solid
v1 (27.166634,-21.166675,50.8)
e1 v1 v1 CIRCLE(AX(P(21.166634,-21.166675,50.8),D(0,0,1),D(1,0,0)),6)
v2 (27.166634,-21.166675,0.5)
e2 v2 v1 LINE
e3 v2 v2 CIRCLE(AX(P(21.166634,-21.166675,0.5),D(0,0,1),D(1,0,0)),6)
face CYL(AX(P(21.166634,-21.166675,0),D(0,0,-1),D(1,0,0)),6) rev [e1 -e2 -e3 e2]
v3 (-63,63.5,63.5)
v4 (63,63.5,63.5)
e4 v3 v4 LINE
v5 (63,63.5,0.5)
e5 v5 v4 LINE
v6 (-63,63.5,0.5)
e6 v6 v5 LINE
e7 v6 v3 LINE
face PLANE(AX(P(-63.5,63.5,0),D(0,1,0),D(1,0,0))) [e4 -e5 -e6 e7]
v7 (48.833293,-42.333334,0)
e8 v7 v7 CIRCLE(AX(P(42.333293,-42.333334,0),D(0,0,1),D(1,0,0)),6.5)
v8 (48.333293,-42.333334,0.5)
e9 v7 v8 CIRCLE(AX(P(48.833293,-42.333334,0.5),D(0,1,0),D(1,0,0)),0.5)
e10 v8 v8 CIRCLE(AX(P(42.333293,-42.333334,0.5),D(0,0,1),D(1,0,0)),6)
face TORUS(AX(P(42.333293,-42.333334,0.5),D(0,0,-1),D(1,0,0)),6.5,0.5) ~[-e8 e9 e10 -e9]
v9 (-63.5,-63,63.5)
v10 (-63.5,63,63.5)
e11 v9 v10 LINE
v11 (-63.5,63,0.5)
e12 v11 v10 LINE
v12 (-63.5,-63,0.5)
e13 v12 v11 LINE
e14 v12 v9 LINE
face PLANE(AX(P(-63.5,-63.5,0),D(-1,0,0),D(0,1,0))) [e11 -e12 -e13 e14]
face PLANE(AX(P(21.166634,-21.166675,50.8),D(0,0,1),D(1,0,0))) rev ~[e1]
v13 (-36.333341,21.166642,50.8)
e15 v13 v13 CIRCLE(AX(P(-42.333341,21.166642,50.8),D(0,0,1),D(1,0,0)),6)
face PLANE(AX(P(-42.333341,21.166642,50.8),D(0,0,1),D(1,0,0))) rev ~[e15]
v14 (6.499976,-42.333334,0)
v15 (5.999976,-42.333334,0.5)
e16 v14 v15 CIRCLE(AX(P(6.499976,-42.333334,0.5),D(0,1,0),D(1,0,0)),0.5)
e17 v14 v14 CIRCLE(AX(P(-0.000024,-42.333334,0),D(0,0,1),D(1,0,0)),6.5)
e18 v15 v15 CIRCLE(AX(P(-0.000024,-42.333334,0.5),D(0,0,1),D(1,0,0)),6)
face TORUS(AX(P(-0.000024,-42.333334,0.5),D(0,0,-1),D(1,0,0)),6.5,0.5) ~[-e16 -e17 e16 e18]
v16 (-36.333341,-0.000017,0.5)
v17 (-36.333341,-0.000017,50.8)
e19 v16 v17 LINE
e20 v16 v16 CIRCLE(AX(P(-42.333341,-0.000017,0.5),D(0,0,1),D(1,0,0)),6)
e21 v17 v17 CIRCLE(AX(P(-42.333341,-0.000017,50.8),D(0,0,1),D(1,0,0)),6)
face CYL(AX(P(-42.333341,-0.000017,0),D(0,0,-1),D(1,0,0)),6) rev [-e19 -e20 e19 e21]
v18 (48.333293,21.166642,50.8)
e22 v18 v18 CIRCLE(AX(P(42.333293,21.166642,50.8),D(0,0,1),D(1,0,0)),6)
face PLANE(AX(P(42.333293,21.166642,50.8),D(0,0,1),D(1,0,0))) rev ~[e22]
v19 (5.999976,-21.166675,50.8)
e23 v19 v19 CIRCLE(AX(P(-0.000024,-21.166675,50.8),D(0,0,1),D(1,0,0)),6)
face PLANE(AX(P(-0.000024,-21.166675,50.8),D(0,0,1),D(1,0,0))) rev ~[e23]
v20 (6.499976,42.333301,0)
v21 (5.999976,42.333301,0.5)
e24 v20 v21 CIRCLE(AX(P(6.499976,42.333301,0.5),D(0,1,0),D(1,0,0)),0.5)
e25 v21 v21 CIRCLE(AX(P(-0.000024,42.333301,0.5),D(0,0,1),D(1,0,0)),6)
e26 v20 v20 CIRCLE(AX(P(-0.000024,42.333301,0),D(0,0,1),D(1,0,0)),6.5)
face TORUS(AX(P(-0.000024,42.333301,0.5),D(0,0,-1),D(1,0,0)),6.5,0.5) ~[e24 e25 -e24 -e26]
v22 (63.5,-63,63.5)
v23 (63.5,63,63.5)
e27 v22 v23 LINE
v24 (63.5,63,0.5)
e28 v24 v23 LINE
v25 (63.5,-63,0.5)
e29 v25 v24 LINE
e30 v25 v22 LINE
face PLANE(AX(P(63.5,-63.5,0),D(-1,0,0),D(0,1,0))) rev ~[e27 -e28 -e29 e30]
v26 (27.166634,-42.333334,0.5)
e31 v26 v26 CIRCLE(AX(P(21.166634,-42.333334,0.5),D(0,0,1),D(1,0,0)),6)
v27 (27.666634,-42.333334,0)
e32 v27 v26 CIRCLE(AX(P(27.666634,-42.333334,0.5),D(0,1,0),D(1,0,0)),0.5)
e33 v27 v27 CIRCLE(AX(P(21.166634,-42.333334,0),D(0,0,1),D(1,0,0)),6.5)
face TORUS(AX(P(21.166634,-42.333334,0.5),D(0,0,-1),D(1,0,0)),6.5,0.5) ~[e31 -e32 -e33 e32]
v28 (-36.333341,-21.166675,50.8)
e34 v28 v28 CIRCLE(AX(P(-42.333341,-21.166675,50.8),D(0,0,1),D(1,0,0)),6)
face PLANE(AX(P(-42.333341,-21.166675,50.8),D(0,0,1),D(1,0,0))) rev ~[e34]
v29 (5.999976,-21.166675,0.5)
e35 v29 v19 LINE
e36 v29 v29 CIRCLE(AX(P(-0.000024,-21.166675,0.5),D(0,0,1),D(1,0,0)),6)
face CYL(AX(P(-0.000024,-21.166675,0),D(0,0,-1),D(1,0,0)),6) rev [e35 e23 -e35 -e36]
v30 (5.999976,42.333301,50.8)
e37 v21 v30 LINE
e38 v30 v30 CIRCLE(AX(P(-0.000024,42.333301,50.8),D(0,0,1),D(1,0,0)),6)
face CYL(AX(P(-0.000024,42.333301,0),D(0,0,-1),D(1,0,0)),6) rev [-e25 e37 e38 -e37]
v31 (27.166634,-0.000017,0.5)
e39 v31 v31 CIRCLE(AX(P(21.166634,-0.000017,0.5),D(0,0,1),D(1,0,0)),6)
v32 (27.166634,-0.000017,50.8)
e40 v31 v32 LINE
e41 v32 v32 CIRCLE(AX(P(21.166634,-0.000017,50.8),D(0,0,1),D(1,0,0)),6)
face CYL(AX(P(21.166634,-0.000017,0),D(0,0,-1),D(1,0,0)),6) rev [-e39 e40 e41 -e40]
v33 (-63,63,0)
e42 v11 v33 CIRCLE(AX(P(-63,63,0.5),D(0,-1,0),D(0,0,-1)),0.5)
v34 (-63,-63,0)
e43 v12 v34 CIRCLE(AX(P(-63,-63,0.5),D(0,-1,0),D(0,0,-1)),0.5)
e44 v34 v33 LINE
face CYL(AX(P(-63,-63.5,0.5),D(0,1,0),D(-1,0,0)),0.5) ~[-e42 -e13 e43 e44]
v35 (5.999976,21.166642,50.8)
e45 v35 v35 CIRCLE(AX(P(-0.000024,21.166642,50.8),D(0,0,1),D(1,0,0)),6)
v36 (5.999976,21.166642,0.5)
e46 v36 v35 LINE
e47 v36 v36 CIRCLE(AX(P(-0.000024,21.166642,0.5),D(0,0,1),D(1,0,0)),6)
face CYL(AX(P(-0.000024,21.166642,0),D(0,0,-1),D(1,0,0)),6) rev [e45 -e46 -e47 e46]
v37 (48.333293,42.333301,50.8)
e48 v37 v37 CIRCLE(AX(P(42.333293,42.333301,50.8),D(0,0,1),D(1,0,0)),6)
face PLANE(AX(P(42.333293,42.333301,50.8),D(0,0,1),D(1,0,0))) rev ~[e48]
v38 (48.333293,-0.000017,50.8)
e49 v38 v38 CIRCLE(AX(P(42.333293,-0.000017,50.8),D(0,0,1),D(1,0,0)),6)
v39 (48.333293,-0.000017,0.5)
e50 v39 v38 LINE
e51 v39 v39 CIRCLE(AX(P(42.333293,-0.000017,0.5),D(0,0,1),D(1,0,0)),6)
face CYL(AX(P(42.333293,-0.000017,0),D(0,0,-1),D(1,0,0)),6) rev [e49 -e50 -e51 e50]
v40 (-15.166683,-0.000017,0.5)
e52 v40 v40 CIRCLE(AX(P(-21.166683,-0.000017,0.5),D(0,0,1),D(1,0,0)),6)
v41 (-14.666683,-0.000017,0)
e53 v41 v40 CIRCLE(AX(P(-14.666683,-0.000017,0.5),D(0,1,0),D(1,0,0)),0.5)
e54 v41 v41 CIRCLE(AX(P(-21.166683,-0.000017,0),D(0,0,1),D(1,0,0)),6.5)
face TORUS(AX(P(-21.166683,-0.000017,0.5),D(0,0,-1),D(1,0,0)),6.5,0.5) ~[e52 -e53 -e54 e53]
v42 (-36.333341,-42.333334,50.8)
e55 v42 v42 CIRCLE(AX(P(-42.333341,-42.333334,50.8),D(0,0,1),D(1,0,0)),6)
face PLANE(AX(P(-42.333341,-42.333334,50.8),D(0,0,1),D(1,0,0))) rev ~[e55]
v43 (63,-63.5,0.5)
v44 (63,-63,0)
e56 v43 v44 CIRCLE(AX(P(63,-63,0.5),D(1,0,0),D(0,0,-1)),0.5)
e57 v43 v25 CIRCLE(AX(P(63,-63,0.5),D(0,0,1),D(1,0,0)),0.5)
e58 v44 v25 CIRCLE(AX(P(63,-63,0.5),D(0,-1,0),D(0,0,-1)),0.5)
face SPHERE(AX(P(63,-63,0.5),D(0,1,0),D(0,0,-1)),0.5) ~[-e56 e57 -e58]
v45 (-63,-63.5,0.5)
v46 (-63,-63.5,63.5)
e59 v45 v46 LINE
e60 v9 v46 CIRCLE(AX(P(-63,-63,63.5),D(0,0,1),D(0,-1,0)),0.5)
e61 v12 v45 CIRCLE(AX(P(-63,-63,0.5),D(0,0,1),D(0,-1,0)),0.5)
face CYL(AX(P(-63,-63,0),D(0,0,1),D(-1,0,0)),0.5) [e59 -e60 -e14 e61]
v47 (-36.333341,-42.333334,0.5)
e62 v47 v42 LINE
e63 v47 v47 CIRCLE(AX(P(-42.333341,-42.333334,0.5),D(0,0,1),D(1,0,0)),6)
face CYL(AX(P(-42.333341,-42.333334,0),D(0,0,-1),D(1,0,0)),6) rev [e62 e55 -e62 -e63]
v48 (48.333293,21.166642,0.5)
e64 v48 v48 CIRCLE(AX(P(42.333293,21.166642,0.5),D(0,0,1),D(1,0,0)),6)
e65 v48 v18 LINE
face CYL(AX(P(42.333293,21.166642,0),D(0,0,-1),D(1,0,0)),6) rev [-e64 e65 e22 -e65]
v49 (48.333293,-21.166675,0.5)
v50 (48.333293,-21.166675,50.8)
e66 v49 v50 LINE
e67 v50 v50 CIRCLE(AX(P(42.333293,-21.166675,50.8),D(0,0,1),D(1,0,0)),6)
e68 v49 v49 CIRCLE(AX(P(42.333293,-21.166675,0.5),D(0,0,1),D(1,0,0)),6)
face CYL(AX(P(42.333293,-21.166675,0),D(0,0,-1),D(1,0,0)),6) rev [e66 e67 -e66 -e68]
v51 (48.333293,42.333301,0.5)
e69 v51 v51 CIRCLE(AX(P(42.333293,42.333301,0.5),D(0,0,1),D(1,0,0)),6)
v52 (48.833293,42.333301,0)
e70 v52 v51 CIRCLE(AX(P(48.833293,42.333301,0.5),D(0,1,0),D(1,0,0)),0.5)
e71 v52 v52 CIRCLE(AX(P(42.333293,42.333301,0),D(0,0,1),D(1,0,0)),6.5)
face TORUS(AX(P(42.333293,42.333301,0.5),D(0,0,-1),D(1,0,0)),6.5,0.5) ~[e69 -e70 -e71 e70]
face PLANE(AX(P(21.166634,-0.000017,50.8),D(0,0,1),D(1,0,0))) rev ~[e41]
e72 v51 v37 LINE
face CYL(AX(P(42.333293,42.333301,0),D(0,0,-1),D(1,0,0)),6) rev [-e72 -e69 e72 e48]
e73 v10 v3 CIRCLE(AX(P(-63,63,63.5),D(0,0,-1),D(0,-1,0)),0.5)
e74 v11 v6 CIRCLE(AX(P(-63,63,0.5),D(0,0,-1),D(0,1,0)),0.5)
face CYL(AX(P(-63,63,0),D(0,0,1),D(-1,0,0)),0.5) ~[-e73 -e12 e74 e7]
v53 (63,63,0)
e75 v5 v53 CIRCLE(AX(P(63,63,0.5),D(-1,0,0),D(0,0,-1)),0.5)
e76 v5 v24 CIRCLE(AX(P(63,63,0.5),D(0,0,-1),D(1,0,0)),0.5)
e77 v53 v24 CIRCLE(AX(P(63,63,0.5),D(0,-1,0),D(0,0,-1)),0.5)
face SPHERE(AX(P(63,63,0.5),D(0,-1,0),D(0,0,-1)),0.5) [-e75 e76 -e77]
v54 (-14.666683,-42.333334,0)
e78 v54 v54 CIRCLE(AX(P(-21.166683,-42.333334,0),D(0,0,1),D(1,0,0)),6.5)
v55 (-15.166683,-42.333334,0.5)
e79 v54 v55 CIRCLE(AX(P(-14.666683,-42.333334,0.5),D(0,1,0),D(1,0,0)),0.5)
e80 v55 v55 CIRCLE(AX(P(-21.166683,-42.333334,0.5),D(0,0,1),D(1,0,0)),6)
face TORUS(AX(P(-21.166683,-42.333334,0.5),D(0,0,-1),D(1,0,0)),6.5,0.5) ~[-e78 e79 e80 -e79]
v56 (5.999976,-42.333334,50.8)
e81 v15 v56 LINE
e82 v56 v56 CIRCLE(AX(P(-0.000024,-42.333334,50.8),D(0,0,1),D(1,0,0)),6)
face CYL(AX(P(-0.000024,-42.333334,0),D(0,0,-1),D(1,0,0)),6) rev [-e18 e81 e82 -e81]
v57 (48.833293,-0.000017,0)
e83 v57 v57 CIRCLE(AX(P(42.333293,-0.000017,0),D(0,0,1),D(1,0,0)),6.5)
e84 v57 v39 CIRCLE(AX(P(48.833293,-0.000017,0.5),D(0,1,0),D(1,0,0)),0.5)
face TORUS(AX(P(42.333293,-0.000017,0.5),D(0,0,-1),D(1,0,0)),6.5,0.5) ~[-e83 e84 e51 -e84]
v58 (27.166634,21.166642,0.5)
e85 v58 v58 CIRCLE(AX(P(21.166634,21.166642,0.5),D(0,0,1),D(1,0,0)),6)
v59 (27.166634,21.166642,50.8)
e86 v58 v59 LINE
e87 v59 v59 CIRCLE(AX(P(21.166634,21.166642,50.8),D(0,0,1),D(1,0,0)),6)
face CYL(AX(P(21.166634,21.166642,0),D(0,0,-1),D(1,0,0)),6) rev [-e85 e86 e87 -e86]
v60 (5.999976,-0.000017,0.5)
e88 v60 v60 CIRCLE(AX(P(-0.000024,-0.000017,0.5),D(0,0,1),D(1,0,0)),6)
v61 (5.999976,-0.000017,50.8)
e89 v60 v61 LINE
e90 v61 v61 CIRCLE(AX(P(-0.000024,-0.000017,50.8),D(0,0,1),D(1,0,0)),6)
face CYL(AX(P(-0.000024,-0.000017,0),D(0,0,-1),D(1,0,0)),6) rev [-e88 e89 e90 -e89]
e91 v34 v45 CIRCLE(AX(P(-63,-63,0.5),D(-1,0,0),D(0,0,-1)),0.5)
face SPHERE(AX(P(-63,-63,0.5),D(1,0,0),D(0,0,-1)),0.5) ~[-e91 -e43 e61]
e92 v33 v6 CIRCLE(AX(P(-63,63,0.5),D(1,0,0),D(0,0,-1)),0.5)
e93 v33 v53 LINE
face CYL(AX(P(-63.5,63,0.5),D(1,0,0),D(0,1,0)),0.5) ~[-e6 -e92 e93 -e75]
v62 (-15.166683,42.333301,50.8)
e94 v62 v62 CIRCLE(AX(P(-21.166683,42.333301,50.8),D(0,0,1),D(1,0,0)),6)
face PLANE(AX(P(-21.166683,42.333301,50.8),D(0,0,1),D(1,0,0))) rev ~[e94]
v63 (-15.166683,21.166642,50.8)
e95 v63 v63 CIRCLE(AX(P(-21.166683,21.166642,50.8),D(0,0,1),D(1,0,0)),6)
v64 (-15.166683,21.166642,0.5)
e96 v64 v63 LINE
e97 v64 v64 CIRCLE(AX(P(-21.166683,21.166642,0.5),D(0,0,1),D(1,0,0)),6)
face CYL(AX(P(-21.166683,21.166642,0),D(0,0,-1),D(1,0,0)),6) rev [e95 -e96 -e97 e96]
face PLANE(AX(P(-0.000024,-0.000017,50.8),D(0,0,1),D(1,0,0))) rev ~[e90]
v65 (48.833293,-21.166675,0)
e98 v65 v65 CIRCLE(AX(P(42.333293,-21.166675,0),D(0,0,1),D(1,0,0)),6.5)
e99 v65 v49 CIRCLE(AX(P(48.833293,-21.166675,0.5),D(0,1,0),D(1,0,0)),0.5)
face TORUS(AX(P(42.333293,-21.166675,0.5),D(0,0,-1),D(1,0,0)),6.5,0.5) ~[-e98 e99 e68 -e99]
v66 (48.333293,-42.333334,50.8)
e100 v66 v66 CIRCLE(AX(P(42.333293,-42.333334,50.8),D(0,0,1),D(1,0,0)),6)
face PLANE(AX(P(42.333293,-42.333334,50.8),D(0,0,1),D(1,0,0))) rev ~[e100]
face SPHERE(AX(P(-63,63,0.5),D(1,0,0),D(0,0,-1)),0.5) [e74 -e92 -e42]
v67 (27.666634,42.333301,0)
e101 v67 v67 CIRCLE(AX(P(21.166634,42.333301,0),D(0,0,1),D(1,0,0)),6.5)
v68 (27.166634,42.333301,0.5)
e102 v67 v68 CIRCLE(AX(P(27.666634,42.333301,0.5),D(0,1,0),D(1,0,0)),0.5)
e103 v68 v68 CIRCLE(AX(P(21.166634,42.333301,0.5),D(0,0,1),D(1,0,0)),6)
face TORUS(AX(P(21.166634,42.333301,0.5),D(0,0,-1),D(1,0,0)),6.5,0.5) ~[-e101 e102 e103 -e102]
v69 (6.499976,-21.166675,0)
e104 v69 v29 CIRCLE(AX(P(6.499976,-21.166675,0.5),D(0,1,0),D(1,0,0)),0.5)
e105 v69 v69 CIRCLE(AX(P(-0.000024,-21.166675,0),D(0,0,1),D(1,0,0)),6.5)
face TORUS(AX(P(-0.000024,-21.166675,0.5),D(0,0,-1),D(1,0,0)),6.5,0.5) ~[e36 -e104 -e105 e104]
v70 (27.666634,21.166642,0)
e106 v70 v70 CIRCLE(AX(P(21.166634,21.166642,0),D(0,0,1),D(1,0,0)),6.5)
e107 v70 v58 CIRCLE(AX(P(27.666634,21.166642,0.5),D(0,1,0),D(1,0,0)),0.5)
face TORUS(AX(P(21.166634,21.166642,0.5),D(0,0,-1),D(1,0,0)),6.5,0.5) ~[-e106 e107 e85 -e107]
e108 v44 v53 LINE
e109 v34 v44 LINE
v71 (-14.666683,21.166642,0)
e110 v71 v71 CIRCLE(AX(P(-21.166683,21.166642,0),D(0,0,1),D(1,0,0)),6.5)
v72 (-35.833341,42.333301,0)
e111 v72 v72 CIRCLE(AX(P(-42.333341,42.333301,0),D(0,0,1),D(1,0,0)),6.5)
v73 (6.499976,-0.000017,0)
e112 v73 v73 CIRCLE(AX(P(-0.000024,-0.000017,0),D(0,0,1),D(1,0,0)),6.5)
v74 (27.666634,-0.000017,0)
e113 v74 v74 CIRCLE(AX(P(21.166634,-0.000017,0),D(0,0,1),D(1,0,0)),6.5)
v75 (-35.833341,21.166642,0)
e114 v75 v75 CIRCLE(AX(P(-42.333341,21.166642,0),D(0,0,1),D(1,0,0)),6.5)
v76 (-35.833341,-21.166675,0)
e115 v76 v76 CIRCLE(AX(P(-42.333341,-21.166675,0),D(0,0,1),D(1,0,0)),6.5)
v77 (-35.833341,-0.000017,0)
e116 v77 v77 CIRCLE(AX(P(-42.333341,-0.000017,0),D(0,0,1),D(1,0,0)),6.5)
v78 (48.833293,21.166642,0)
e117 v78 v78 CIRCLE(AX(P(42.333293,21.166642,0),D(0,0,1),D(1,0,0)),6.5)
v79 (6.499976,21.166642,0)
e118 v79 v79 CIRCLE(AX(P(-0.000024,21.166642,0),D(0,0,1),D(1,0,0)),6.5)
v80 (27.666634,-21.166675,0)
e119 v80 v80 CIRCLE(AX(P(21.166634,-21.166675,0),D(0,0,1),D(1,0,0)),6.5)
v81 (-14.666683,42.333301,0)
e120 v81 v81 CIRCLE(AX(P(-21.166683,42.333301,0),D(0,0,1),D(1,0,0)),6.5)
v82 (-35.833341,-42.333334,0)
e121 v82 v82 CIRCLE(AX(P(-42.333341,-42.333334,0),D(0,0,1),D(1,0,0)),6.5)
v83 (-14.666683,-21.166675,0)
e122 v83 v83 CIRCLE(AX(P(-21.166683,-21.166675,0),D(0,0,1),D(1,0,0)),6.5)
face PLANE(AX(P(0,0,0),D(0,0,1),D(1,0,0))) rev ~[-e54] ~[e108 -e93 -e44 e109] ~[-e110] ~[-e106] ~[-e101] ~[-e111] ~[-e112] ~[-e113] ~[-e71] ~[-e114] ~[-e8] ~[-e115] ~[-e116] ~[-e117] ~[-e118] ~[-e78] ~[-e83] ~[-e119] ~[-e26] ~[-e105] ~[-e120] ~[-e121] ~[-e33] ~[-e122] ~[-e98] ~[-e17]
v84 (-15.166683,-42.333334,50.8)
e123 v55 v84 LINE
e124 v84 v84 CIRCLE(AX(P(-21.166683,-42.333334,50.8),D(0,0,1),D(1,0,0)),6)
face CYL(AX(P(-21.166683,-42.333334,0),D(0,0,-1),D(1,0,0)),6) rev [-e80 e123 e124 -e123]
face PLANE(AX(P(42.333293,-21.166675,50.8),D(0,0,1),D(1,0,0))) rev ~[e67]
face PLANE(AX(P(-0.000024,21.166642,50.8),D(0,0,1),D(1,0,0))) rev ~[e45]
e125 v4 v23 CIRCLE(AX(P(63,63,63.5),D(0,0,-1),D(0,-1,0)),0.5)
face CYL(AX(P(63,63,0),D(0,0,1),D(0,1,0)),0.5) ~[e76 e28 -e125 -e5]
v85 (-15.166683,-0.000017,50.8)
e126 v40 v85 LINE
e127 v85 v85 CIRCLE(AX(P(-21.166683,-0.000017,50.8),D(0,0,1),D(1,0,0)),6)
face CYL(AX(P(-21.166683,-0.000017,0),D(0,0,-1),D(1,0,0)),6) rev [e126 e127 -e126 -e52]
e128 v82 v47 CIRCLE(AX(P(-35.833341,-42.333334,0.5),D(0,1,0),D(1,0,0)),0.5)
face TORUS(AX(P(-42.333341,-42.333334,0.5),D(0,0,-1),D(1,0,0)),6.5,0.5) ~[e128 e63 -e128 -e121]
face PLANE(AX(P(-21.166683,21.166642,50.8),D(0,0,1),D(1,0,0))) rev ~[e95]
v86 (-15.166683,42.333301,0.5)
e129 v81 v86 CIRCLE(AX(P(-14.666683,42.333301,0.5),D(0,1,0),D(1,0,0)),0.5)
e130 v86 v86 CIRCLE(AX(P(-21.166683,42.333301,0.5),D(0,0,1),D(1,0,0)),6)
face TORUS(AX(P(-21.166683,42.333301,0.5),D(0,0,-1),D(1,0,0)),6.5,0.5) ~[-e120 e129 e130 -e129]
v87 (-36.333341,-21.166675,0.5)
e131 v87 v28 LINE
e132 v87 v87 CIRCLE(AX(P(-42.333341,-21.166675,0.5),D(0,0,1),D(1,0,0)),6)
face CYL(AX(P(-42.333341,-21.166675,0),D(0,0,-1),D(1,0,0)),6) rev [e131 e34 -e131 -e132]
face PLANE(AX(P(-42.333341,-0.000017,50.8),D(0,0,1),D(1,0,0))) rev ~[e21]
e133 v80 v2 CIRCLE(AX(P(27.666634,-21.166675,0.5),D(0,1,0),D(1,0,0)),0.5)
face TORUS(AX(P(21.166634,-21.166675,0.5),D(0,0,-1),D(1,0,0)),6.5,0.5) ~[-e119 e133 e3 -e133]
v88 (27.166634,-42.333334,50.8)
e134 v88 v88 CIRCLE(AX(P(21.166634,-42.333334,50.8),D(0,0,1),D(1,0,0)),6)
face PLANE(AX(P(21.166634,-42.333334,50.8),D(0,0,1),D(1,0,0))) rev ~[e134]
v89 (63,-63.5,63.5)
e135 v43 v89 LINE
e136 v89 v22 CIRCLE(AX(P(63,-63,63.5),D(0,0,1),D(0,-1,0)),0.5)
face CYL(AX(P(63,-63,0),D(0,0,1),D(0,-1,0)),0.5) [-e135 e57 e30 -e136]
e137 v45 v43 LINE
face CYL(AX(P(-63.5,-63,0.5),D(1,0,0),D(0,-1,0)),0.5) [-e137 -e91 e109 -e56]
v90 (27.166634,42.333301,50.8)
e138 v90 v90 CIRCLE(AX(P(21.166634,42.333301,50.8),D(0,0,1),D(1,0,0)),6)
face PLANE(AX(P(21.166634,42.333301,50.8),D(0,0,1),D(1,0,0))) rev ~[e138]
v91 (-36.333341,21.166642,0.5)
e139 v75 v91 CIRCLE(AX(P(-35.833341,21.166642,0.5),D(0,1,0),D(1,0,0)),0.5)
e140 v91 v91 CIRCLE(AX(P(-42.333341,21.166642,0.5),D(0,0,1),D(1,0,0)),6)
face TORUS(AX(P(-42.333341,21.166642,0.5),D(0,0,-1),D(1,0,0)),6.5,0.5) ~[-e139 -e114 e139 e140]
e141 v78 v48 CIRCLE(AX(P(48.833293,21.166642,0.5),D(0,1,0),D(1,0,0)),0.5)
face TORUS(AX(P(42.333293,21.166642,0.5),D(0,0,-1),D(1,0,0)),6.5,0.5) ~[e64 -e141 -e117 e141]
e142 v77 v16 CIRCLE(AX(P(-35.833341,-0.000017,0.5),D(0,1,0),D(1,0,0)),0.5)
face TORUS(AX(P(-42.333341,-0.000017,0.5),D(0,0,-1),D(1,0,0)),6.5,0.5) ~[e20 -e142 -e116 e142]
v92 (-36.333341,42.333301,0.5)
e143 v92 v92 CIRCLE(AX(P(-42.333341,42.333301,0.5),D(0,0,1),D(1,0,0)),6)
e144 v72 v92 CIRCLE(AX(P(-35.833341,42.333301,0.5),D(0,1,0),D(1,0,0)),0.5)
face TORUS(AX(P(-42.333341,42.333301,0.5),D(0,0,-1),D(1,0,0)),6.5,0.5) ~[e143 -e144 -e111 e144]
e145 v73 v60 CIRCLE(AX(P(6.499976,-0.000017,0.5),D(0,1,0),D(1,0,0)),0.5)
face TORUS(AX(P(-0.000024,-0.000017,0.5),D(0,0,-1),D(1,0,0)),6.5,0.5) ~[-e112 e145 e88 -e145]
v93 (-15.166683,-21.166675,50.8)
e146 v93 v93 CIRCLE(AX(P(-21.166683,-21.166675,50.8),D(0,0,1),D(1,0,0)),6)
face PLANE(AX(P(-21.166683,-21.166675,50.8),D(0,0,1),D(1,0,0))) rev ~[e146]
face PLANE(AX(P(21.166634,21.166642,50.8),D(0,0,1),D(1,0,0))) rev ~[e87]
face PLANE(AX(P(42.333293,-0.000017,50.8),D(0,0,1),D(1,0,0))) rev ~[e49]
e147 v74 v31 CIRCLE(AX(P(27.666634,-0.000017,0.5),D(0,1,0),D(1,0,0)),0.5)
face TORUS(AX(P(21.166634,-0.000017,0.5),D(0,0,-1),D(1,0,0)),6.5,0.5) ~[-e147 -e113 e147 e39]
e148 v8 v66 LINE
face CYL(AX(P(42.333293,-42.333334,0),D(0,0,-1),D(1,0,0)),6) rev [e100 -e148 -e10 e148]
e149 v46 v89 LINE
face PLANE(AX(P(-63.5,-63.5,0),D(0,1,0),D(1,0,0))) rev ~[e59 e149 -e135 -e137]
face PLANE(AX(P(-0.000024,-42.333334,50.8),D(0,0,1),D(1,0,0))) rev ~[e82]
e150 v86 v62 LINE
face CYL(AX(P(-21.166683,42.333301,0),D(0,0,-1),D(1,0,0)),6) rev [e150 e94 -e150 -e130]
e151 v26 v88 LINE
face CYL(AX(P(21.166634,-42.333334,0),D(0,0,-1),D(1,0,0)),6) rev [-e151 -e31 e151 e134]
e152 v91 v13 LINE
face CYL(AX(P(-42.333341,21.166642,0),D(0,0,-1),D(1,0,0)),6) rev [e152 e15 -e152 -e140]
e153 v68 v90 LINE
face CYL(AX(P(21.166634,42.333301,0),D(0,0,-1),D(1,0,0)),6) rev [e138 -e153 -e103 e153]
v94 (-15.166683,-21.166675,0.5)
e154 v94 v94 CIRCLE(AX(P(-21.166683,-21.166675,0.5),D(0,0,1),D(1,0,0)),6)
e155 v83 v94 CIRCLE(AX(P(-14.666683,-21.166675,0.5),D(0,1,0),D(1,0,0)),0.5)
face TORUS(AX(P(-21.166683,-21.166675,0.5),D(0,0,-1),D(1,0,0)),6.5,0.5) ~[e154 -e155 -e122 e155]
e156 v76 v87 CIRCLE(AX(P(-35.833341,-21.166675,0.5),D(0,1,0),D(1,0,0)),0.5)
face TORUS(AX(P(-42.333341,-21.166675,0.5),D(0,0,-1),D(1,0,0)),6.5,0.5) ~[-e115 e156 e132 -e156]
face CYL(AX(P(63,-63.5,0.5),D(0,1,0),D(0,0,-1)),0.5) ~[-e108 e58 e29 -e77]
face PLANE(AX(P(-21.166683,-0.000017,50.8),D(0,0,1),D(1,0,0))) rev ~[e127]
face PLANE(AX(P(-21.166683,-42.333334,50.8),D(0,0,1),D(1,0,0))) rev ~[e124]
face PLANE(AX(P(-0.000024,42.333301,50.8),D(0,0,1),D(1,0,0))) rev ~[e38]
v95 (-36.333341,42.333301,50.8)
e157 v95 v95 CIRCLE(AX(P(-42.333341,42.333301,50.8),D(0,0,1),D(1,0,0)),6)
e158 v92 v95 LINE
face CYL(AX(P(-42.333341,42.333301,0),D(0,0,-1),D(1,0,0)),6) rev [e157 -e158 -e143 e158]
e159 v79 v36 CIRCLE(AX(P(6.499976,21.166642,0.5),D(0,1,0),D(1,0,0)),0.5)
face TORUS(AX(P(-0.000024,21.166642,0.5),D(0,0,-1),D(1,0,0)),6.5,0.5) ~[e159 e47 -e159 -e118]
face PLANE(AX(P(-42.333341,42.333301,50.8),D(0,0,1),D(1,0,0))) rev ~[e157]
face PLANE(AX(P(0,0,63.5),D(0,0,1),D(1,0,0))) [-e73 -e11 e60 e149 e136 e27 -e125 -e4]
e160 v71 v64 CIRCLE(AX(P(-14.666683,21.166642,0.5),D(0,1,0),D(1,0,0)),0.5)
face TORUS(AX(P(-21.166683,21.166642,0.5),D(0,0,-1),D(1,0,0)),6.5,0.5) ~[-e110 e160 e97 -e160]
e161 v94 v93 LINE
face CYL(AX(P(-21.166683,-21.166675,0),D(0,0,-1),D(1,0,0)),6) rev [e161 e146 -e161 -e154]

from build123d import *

# Parameters (mm, degrees)
F0_W     = 127
F0_H     = 127
F1_DEPTH = 63.5
F3_R     = 6
F4_DEPTH = 50.8
F5_R     = 0.5


with BuildPart() as f1:
    # F0 (on Top) → F1 (new body)
    with BuildSketch(Plane.XY):
        Rectangle(F0_W, F0_H)
    extrude(amount=F1_DEPTH)

    # F3 (on Top) → F4 (cut)
    with BuildSketch(Plane.XY):
        with Locations((-42.3333414078, -42.333333838)):
            Circle(F3_R)
        with Locations((-42.3333414078, -21.1666752458)):
            Circle(F3_R)
        with Locations((-42.3333414078, -1.66535e-05)):
            Circle(F3_R)
        with Locations((-42.3333414078, 21.1666419387)):
            Circle(F3_R)
        with Locations((-42.3333414078, 42.3333005309)):
            Circle(F3_R)
        with Locations((-21.1666828156, -42.333333838)):
            Circle(F3_R)
        with Locations((-21.1666828156, -21.1666752458)):
            Circle(F3_R)
        with Locations((-21.1666828156, -1.66535e-05)):
            Circle(F3_R)
        with Locations((-21.1666828156, 21.1666419387)):
            Circle(F3_R)
        with Locations((-21.1666828156, 42.3333005309)):
            Circle(F3_R)
        with Locations((-2.42233e-05, -42.333333838)):
            Circle(F3_R)
        with Locations((-2.42233e-05, -21.1666752458)):
            Circle(F3_R)
        with Locations((-2.42233e-05, -1.66535e-05)):
            Circle(F3_R)
        with Locations((-2.42233e-05, 21.1666419387)):
            Circle(F3_R)
        with Locations((-2.42233e-05, 42.3333005309)):
            Circle(F3_R)
        with Locations((21.1666343689, -42.333333838)):
            Circle(F3_R)
        with Locations((21.1666343689, -21.1666752458)):
            Circle(F3_R)
        with Locations((21.1666343689, -1.66535e-05)):
            Circle(F3_R)
        with Locations((21.1666343689, 21.1666419387)):
            Circle(F3_R)
        with Locations((21.1666343689, 42.3333005309)):
            Circle(F3_R)
        with Locations((42.3332929611, -42.333333838)):
            Circle(F3_R)
        with Locations((42.3332929611, -21.1666752458)):
            Circle(F3_R)
        with Locations((42.3332929611, -1.66535e-05)):
            Circle(F3_R)
        with Locations((42.3332929611, 21.1666419387)):
            Circle(F3_R)
        with Locations((42.3332929611, 42.3333005309)):
            Circle(F3_R)
    extrude(amount=F4_DEPTH, mode=Mode.SUBTRACT)

    # F5
    f5_edges = [f1.edges().sort_by_distance(p)[0] for p in [
        (63.5, 0, 0),
        (0, -63.5, 0),
        (0, 63.5, 0),
        (-63.5, 0, 0),
        (-48.333341, -42.333334, 0),
        (-27.166683, -42.333334, 0),
        (-48.333341, -21.166675, 0),
        (-27.166683, -21.166675, 0),
        (-6.000024, -42.333334, 0),
        (15.166634, -42.333334, 0),
        (36.333293, -42.333334, 0),
        (-6.000024, -21.166675, 0),
        (15.166634, -21.166675, 0),
        (36.333293, -21.166675, 0),
        (-48.333341, -1.7e-05, 0),
        (-48.333341, 21.166642, 0),
        (-27.166683, -1.7e-05, 0),
        (-27.166683, 21.166642, 0),
        (-48.333341, 42.333301, 0),
        (-27.166683, 42.333301, 0),
        (-6.000024, -1.7e-05, 0),
        (15.166634, -1.7e-05, 0),
        (-6.000024, 21.166642, 0),
        (15.166634, 21.166642, 0),
        (36.333293, -1.7e-05, 0),
        (36.333293, 21.166642, 0),
        (-6.000024, 42.333301, 0),
        (15.166634, 42.333301, 0),
        (36.333293, 42.333301, 0),
        (-63.5, 63.5, 31.75),
        (-63.5, -63.5, 31.75),
        (63.5, 63.5, 31.75),
        (63.5, -63.5, 31.75),
    ]]
    fillet(f5_edges, radius=F5_R)


solid = f1.part
